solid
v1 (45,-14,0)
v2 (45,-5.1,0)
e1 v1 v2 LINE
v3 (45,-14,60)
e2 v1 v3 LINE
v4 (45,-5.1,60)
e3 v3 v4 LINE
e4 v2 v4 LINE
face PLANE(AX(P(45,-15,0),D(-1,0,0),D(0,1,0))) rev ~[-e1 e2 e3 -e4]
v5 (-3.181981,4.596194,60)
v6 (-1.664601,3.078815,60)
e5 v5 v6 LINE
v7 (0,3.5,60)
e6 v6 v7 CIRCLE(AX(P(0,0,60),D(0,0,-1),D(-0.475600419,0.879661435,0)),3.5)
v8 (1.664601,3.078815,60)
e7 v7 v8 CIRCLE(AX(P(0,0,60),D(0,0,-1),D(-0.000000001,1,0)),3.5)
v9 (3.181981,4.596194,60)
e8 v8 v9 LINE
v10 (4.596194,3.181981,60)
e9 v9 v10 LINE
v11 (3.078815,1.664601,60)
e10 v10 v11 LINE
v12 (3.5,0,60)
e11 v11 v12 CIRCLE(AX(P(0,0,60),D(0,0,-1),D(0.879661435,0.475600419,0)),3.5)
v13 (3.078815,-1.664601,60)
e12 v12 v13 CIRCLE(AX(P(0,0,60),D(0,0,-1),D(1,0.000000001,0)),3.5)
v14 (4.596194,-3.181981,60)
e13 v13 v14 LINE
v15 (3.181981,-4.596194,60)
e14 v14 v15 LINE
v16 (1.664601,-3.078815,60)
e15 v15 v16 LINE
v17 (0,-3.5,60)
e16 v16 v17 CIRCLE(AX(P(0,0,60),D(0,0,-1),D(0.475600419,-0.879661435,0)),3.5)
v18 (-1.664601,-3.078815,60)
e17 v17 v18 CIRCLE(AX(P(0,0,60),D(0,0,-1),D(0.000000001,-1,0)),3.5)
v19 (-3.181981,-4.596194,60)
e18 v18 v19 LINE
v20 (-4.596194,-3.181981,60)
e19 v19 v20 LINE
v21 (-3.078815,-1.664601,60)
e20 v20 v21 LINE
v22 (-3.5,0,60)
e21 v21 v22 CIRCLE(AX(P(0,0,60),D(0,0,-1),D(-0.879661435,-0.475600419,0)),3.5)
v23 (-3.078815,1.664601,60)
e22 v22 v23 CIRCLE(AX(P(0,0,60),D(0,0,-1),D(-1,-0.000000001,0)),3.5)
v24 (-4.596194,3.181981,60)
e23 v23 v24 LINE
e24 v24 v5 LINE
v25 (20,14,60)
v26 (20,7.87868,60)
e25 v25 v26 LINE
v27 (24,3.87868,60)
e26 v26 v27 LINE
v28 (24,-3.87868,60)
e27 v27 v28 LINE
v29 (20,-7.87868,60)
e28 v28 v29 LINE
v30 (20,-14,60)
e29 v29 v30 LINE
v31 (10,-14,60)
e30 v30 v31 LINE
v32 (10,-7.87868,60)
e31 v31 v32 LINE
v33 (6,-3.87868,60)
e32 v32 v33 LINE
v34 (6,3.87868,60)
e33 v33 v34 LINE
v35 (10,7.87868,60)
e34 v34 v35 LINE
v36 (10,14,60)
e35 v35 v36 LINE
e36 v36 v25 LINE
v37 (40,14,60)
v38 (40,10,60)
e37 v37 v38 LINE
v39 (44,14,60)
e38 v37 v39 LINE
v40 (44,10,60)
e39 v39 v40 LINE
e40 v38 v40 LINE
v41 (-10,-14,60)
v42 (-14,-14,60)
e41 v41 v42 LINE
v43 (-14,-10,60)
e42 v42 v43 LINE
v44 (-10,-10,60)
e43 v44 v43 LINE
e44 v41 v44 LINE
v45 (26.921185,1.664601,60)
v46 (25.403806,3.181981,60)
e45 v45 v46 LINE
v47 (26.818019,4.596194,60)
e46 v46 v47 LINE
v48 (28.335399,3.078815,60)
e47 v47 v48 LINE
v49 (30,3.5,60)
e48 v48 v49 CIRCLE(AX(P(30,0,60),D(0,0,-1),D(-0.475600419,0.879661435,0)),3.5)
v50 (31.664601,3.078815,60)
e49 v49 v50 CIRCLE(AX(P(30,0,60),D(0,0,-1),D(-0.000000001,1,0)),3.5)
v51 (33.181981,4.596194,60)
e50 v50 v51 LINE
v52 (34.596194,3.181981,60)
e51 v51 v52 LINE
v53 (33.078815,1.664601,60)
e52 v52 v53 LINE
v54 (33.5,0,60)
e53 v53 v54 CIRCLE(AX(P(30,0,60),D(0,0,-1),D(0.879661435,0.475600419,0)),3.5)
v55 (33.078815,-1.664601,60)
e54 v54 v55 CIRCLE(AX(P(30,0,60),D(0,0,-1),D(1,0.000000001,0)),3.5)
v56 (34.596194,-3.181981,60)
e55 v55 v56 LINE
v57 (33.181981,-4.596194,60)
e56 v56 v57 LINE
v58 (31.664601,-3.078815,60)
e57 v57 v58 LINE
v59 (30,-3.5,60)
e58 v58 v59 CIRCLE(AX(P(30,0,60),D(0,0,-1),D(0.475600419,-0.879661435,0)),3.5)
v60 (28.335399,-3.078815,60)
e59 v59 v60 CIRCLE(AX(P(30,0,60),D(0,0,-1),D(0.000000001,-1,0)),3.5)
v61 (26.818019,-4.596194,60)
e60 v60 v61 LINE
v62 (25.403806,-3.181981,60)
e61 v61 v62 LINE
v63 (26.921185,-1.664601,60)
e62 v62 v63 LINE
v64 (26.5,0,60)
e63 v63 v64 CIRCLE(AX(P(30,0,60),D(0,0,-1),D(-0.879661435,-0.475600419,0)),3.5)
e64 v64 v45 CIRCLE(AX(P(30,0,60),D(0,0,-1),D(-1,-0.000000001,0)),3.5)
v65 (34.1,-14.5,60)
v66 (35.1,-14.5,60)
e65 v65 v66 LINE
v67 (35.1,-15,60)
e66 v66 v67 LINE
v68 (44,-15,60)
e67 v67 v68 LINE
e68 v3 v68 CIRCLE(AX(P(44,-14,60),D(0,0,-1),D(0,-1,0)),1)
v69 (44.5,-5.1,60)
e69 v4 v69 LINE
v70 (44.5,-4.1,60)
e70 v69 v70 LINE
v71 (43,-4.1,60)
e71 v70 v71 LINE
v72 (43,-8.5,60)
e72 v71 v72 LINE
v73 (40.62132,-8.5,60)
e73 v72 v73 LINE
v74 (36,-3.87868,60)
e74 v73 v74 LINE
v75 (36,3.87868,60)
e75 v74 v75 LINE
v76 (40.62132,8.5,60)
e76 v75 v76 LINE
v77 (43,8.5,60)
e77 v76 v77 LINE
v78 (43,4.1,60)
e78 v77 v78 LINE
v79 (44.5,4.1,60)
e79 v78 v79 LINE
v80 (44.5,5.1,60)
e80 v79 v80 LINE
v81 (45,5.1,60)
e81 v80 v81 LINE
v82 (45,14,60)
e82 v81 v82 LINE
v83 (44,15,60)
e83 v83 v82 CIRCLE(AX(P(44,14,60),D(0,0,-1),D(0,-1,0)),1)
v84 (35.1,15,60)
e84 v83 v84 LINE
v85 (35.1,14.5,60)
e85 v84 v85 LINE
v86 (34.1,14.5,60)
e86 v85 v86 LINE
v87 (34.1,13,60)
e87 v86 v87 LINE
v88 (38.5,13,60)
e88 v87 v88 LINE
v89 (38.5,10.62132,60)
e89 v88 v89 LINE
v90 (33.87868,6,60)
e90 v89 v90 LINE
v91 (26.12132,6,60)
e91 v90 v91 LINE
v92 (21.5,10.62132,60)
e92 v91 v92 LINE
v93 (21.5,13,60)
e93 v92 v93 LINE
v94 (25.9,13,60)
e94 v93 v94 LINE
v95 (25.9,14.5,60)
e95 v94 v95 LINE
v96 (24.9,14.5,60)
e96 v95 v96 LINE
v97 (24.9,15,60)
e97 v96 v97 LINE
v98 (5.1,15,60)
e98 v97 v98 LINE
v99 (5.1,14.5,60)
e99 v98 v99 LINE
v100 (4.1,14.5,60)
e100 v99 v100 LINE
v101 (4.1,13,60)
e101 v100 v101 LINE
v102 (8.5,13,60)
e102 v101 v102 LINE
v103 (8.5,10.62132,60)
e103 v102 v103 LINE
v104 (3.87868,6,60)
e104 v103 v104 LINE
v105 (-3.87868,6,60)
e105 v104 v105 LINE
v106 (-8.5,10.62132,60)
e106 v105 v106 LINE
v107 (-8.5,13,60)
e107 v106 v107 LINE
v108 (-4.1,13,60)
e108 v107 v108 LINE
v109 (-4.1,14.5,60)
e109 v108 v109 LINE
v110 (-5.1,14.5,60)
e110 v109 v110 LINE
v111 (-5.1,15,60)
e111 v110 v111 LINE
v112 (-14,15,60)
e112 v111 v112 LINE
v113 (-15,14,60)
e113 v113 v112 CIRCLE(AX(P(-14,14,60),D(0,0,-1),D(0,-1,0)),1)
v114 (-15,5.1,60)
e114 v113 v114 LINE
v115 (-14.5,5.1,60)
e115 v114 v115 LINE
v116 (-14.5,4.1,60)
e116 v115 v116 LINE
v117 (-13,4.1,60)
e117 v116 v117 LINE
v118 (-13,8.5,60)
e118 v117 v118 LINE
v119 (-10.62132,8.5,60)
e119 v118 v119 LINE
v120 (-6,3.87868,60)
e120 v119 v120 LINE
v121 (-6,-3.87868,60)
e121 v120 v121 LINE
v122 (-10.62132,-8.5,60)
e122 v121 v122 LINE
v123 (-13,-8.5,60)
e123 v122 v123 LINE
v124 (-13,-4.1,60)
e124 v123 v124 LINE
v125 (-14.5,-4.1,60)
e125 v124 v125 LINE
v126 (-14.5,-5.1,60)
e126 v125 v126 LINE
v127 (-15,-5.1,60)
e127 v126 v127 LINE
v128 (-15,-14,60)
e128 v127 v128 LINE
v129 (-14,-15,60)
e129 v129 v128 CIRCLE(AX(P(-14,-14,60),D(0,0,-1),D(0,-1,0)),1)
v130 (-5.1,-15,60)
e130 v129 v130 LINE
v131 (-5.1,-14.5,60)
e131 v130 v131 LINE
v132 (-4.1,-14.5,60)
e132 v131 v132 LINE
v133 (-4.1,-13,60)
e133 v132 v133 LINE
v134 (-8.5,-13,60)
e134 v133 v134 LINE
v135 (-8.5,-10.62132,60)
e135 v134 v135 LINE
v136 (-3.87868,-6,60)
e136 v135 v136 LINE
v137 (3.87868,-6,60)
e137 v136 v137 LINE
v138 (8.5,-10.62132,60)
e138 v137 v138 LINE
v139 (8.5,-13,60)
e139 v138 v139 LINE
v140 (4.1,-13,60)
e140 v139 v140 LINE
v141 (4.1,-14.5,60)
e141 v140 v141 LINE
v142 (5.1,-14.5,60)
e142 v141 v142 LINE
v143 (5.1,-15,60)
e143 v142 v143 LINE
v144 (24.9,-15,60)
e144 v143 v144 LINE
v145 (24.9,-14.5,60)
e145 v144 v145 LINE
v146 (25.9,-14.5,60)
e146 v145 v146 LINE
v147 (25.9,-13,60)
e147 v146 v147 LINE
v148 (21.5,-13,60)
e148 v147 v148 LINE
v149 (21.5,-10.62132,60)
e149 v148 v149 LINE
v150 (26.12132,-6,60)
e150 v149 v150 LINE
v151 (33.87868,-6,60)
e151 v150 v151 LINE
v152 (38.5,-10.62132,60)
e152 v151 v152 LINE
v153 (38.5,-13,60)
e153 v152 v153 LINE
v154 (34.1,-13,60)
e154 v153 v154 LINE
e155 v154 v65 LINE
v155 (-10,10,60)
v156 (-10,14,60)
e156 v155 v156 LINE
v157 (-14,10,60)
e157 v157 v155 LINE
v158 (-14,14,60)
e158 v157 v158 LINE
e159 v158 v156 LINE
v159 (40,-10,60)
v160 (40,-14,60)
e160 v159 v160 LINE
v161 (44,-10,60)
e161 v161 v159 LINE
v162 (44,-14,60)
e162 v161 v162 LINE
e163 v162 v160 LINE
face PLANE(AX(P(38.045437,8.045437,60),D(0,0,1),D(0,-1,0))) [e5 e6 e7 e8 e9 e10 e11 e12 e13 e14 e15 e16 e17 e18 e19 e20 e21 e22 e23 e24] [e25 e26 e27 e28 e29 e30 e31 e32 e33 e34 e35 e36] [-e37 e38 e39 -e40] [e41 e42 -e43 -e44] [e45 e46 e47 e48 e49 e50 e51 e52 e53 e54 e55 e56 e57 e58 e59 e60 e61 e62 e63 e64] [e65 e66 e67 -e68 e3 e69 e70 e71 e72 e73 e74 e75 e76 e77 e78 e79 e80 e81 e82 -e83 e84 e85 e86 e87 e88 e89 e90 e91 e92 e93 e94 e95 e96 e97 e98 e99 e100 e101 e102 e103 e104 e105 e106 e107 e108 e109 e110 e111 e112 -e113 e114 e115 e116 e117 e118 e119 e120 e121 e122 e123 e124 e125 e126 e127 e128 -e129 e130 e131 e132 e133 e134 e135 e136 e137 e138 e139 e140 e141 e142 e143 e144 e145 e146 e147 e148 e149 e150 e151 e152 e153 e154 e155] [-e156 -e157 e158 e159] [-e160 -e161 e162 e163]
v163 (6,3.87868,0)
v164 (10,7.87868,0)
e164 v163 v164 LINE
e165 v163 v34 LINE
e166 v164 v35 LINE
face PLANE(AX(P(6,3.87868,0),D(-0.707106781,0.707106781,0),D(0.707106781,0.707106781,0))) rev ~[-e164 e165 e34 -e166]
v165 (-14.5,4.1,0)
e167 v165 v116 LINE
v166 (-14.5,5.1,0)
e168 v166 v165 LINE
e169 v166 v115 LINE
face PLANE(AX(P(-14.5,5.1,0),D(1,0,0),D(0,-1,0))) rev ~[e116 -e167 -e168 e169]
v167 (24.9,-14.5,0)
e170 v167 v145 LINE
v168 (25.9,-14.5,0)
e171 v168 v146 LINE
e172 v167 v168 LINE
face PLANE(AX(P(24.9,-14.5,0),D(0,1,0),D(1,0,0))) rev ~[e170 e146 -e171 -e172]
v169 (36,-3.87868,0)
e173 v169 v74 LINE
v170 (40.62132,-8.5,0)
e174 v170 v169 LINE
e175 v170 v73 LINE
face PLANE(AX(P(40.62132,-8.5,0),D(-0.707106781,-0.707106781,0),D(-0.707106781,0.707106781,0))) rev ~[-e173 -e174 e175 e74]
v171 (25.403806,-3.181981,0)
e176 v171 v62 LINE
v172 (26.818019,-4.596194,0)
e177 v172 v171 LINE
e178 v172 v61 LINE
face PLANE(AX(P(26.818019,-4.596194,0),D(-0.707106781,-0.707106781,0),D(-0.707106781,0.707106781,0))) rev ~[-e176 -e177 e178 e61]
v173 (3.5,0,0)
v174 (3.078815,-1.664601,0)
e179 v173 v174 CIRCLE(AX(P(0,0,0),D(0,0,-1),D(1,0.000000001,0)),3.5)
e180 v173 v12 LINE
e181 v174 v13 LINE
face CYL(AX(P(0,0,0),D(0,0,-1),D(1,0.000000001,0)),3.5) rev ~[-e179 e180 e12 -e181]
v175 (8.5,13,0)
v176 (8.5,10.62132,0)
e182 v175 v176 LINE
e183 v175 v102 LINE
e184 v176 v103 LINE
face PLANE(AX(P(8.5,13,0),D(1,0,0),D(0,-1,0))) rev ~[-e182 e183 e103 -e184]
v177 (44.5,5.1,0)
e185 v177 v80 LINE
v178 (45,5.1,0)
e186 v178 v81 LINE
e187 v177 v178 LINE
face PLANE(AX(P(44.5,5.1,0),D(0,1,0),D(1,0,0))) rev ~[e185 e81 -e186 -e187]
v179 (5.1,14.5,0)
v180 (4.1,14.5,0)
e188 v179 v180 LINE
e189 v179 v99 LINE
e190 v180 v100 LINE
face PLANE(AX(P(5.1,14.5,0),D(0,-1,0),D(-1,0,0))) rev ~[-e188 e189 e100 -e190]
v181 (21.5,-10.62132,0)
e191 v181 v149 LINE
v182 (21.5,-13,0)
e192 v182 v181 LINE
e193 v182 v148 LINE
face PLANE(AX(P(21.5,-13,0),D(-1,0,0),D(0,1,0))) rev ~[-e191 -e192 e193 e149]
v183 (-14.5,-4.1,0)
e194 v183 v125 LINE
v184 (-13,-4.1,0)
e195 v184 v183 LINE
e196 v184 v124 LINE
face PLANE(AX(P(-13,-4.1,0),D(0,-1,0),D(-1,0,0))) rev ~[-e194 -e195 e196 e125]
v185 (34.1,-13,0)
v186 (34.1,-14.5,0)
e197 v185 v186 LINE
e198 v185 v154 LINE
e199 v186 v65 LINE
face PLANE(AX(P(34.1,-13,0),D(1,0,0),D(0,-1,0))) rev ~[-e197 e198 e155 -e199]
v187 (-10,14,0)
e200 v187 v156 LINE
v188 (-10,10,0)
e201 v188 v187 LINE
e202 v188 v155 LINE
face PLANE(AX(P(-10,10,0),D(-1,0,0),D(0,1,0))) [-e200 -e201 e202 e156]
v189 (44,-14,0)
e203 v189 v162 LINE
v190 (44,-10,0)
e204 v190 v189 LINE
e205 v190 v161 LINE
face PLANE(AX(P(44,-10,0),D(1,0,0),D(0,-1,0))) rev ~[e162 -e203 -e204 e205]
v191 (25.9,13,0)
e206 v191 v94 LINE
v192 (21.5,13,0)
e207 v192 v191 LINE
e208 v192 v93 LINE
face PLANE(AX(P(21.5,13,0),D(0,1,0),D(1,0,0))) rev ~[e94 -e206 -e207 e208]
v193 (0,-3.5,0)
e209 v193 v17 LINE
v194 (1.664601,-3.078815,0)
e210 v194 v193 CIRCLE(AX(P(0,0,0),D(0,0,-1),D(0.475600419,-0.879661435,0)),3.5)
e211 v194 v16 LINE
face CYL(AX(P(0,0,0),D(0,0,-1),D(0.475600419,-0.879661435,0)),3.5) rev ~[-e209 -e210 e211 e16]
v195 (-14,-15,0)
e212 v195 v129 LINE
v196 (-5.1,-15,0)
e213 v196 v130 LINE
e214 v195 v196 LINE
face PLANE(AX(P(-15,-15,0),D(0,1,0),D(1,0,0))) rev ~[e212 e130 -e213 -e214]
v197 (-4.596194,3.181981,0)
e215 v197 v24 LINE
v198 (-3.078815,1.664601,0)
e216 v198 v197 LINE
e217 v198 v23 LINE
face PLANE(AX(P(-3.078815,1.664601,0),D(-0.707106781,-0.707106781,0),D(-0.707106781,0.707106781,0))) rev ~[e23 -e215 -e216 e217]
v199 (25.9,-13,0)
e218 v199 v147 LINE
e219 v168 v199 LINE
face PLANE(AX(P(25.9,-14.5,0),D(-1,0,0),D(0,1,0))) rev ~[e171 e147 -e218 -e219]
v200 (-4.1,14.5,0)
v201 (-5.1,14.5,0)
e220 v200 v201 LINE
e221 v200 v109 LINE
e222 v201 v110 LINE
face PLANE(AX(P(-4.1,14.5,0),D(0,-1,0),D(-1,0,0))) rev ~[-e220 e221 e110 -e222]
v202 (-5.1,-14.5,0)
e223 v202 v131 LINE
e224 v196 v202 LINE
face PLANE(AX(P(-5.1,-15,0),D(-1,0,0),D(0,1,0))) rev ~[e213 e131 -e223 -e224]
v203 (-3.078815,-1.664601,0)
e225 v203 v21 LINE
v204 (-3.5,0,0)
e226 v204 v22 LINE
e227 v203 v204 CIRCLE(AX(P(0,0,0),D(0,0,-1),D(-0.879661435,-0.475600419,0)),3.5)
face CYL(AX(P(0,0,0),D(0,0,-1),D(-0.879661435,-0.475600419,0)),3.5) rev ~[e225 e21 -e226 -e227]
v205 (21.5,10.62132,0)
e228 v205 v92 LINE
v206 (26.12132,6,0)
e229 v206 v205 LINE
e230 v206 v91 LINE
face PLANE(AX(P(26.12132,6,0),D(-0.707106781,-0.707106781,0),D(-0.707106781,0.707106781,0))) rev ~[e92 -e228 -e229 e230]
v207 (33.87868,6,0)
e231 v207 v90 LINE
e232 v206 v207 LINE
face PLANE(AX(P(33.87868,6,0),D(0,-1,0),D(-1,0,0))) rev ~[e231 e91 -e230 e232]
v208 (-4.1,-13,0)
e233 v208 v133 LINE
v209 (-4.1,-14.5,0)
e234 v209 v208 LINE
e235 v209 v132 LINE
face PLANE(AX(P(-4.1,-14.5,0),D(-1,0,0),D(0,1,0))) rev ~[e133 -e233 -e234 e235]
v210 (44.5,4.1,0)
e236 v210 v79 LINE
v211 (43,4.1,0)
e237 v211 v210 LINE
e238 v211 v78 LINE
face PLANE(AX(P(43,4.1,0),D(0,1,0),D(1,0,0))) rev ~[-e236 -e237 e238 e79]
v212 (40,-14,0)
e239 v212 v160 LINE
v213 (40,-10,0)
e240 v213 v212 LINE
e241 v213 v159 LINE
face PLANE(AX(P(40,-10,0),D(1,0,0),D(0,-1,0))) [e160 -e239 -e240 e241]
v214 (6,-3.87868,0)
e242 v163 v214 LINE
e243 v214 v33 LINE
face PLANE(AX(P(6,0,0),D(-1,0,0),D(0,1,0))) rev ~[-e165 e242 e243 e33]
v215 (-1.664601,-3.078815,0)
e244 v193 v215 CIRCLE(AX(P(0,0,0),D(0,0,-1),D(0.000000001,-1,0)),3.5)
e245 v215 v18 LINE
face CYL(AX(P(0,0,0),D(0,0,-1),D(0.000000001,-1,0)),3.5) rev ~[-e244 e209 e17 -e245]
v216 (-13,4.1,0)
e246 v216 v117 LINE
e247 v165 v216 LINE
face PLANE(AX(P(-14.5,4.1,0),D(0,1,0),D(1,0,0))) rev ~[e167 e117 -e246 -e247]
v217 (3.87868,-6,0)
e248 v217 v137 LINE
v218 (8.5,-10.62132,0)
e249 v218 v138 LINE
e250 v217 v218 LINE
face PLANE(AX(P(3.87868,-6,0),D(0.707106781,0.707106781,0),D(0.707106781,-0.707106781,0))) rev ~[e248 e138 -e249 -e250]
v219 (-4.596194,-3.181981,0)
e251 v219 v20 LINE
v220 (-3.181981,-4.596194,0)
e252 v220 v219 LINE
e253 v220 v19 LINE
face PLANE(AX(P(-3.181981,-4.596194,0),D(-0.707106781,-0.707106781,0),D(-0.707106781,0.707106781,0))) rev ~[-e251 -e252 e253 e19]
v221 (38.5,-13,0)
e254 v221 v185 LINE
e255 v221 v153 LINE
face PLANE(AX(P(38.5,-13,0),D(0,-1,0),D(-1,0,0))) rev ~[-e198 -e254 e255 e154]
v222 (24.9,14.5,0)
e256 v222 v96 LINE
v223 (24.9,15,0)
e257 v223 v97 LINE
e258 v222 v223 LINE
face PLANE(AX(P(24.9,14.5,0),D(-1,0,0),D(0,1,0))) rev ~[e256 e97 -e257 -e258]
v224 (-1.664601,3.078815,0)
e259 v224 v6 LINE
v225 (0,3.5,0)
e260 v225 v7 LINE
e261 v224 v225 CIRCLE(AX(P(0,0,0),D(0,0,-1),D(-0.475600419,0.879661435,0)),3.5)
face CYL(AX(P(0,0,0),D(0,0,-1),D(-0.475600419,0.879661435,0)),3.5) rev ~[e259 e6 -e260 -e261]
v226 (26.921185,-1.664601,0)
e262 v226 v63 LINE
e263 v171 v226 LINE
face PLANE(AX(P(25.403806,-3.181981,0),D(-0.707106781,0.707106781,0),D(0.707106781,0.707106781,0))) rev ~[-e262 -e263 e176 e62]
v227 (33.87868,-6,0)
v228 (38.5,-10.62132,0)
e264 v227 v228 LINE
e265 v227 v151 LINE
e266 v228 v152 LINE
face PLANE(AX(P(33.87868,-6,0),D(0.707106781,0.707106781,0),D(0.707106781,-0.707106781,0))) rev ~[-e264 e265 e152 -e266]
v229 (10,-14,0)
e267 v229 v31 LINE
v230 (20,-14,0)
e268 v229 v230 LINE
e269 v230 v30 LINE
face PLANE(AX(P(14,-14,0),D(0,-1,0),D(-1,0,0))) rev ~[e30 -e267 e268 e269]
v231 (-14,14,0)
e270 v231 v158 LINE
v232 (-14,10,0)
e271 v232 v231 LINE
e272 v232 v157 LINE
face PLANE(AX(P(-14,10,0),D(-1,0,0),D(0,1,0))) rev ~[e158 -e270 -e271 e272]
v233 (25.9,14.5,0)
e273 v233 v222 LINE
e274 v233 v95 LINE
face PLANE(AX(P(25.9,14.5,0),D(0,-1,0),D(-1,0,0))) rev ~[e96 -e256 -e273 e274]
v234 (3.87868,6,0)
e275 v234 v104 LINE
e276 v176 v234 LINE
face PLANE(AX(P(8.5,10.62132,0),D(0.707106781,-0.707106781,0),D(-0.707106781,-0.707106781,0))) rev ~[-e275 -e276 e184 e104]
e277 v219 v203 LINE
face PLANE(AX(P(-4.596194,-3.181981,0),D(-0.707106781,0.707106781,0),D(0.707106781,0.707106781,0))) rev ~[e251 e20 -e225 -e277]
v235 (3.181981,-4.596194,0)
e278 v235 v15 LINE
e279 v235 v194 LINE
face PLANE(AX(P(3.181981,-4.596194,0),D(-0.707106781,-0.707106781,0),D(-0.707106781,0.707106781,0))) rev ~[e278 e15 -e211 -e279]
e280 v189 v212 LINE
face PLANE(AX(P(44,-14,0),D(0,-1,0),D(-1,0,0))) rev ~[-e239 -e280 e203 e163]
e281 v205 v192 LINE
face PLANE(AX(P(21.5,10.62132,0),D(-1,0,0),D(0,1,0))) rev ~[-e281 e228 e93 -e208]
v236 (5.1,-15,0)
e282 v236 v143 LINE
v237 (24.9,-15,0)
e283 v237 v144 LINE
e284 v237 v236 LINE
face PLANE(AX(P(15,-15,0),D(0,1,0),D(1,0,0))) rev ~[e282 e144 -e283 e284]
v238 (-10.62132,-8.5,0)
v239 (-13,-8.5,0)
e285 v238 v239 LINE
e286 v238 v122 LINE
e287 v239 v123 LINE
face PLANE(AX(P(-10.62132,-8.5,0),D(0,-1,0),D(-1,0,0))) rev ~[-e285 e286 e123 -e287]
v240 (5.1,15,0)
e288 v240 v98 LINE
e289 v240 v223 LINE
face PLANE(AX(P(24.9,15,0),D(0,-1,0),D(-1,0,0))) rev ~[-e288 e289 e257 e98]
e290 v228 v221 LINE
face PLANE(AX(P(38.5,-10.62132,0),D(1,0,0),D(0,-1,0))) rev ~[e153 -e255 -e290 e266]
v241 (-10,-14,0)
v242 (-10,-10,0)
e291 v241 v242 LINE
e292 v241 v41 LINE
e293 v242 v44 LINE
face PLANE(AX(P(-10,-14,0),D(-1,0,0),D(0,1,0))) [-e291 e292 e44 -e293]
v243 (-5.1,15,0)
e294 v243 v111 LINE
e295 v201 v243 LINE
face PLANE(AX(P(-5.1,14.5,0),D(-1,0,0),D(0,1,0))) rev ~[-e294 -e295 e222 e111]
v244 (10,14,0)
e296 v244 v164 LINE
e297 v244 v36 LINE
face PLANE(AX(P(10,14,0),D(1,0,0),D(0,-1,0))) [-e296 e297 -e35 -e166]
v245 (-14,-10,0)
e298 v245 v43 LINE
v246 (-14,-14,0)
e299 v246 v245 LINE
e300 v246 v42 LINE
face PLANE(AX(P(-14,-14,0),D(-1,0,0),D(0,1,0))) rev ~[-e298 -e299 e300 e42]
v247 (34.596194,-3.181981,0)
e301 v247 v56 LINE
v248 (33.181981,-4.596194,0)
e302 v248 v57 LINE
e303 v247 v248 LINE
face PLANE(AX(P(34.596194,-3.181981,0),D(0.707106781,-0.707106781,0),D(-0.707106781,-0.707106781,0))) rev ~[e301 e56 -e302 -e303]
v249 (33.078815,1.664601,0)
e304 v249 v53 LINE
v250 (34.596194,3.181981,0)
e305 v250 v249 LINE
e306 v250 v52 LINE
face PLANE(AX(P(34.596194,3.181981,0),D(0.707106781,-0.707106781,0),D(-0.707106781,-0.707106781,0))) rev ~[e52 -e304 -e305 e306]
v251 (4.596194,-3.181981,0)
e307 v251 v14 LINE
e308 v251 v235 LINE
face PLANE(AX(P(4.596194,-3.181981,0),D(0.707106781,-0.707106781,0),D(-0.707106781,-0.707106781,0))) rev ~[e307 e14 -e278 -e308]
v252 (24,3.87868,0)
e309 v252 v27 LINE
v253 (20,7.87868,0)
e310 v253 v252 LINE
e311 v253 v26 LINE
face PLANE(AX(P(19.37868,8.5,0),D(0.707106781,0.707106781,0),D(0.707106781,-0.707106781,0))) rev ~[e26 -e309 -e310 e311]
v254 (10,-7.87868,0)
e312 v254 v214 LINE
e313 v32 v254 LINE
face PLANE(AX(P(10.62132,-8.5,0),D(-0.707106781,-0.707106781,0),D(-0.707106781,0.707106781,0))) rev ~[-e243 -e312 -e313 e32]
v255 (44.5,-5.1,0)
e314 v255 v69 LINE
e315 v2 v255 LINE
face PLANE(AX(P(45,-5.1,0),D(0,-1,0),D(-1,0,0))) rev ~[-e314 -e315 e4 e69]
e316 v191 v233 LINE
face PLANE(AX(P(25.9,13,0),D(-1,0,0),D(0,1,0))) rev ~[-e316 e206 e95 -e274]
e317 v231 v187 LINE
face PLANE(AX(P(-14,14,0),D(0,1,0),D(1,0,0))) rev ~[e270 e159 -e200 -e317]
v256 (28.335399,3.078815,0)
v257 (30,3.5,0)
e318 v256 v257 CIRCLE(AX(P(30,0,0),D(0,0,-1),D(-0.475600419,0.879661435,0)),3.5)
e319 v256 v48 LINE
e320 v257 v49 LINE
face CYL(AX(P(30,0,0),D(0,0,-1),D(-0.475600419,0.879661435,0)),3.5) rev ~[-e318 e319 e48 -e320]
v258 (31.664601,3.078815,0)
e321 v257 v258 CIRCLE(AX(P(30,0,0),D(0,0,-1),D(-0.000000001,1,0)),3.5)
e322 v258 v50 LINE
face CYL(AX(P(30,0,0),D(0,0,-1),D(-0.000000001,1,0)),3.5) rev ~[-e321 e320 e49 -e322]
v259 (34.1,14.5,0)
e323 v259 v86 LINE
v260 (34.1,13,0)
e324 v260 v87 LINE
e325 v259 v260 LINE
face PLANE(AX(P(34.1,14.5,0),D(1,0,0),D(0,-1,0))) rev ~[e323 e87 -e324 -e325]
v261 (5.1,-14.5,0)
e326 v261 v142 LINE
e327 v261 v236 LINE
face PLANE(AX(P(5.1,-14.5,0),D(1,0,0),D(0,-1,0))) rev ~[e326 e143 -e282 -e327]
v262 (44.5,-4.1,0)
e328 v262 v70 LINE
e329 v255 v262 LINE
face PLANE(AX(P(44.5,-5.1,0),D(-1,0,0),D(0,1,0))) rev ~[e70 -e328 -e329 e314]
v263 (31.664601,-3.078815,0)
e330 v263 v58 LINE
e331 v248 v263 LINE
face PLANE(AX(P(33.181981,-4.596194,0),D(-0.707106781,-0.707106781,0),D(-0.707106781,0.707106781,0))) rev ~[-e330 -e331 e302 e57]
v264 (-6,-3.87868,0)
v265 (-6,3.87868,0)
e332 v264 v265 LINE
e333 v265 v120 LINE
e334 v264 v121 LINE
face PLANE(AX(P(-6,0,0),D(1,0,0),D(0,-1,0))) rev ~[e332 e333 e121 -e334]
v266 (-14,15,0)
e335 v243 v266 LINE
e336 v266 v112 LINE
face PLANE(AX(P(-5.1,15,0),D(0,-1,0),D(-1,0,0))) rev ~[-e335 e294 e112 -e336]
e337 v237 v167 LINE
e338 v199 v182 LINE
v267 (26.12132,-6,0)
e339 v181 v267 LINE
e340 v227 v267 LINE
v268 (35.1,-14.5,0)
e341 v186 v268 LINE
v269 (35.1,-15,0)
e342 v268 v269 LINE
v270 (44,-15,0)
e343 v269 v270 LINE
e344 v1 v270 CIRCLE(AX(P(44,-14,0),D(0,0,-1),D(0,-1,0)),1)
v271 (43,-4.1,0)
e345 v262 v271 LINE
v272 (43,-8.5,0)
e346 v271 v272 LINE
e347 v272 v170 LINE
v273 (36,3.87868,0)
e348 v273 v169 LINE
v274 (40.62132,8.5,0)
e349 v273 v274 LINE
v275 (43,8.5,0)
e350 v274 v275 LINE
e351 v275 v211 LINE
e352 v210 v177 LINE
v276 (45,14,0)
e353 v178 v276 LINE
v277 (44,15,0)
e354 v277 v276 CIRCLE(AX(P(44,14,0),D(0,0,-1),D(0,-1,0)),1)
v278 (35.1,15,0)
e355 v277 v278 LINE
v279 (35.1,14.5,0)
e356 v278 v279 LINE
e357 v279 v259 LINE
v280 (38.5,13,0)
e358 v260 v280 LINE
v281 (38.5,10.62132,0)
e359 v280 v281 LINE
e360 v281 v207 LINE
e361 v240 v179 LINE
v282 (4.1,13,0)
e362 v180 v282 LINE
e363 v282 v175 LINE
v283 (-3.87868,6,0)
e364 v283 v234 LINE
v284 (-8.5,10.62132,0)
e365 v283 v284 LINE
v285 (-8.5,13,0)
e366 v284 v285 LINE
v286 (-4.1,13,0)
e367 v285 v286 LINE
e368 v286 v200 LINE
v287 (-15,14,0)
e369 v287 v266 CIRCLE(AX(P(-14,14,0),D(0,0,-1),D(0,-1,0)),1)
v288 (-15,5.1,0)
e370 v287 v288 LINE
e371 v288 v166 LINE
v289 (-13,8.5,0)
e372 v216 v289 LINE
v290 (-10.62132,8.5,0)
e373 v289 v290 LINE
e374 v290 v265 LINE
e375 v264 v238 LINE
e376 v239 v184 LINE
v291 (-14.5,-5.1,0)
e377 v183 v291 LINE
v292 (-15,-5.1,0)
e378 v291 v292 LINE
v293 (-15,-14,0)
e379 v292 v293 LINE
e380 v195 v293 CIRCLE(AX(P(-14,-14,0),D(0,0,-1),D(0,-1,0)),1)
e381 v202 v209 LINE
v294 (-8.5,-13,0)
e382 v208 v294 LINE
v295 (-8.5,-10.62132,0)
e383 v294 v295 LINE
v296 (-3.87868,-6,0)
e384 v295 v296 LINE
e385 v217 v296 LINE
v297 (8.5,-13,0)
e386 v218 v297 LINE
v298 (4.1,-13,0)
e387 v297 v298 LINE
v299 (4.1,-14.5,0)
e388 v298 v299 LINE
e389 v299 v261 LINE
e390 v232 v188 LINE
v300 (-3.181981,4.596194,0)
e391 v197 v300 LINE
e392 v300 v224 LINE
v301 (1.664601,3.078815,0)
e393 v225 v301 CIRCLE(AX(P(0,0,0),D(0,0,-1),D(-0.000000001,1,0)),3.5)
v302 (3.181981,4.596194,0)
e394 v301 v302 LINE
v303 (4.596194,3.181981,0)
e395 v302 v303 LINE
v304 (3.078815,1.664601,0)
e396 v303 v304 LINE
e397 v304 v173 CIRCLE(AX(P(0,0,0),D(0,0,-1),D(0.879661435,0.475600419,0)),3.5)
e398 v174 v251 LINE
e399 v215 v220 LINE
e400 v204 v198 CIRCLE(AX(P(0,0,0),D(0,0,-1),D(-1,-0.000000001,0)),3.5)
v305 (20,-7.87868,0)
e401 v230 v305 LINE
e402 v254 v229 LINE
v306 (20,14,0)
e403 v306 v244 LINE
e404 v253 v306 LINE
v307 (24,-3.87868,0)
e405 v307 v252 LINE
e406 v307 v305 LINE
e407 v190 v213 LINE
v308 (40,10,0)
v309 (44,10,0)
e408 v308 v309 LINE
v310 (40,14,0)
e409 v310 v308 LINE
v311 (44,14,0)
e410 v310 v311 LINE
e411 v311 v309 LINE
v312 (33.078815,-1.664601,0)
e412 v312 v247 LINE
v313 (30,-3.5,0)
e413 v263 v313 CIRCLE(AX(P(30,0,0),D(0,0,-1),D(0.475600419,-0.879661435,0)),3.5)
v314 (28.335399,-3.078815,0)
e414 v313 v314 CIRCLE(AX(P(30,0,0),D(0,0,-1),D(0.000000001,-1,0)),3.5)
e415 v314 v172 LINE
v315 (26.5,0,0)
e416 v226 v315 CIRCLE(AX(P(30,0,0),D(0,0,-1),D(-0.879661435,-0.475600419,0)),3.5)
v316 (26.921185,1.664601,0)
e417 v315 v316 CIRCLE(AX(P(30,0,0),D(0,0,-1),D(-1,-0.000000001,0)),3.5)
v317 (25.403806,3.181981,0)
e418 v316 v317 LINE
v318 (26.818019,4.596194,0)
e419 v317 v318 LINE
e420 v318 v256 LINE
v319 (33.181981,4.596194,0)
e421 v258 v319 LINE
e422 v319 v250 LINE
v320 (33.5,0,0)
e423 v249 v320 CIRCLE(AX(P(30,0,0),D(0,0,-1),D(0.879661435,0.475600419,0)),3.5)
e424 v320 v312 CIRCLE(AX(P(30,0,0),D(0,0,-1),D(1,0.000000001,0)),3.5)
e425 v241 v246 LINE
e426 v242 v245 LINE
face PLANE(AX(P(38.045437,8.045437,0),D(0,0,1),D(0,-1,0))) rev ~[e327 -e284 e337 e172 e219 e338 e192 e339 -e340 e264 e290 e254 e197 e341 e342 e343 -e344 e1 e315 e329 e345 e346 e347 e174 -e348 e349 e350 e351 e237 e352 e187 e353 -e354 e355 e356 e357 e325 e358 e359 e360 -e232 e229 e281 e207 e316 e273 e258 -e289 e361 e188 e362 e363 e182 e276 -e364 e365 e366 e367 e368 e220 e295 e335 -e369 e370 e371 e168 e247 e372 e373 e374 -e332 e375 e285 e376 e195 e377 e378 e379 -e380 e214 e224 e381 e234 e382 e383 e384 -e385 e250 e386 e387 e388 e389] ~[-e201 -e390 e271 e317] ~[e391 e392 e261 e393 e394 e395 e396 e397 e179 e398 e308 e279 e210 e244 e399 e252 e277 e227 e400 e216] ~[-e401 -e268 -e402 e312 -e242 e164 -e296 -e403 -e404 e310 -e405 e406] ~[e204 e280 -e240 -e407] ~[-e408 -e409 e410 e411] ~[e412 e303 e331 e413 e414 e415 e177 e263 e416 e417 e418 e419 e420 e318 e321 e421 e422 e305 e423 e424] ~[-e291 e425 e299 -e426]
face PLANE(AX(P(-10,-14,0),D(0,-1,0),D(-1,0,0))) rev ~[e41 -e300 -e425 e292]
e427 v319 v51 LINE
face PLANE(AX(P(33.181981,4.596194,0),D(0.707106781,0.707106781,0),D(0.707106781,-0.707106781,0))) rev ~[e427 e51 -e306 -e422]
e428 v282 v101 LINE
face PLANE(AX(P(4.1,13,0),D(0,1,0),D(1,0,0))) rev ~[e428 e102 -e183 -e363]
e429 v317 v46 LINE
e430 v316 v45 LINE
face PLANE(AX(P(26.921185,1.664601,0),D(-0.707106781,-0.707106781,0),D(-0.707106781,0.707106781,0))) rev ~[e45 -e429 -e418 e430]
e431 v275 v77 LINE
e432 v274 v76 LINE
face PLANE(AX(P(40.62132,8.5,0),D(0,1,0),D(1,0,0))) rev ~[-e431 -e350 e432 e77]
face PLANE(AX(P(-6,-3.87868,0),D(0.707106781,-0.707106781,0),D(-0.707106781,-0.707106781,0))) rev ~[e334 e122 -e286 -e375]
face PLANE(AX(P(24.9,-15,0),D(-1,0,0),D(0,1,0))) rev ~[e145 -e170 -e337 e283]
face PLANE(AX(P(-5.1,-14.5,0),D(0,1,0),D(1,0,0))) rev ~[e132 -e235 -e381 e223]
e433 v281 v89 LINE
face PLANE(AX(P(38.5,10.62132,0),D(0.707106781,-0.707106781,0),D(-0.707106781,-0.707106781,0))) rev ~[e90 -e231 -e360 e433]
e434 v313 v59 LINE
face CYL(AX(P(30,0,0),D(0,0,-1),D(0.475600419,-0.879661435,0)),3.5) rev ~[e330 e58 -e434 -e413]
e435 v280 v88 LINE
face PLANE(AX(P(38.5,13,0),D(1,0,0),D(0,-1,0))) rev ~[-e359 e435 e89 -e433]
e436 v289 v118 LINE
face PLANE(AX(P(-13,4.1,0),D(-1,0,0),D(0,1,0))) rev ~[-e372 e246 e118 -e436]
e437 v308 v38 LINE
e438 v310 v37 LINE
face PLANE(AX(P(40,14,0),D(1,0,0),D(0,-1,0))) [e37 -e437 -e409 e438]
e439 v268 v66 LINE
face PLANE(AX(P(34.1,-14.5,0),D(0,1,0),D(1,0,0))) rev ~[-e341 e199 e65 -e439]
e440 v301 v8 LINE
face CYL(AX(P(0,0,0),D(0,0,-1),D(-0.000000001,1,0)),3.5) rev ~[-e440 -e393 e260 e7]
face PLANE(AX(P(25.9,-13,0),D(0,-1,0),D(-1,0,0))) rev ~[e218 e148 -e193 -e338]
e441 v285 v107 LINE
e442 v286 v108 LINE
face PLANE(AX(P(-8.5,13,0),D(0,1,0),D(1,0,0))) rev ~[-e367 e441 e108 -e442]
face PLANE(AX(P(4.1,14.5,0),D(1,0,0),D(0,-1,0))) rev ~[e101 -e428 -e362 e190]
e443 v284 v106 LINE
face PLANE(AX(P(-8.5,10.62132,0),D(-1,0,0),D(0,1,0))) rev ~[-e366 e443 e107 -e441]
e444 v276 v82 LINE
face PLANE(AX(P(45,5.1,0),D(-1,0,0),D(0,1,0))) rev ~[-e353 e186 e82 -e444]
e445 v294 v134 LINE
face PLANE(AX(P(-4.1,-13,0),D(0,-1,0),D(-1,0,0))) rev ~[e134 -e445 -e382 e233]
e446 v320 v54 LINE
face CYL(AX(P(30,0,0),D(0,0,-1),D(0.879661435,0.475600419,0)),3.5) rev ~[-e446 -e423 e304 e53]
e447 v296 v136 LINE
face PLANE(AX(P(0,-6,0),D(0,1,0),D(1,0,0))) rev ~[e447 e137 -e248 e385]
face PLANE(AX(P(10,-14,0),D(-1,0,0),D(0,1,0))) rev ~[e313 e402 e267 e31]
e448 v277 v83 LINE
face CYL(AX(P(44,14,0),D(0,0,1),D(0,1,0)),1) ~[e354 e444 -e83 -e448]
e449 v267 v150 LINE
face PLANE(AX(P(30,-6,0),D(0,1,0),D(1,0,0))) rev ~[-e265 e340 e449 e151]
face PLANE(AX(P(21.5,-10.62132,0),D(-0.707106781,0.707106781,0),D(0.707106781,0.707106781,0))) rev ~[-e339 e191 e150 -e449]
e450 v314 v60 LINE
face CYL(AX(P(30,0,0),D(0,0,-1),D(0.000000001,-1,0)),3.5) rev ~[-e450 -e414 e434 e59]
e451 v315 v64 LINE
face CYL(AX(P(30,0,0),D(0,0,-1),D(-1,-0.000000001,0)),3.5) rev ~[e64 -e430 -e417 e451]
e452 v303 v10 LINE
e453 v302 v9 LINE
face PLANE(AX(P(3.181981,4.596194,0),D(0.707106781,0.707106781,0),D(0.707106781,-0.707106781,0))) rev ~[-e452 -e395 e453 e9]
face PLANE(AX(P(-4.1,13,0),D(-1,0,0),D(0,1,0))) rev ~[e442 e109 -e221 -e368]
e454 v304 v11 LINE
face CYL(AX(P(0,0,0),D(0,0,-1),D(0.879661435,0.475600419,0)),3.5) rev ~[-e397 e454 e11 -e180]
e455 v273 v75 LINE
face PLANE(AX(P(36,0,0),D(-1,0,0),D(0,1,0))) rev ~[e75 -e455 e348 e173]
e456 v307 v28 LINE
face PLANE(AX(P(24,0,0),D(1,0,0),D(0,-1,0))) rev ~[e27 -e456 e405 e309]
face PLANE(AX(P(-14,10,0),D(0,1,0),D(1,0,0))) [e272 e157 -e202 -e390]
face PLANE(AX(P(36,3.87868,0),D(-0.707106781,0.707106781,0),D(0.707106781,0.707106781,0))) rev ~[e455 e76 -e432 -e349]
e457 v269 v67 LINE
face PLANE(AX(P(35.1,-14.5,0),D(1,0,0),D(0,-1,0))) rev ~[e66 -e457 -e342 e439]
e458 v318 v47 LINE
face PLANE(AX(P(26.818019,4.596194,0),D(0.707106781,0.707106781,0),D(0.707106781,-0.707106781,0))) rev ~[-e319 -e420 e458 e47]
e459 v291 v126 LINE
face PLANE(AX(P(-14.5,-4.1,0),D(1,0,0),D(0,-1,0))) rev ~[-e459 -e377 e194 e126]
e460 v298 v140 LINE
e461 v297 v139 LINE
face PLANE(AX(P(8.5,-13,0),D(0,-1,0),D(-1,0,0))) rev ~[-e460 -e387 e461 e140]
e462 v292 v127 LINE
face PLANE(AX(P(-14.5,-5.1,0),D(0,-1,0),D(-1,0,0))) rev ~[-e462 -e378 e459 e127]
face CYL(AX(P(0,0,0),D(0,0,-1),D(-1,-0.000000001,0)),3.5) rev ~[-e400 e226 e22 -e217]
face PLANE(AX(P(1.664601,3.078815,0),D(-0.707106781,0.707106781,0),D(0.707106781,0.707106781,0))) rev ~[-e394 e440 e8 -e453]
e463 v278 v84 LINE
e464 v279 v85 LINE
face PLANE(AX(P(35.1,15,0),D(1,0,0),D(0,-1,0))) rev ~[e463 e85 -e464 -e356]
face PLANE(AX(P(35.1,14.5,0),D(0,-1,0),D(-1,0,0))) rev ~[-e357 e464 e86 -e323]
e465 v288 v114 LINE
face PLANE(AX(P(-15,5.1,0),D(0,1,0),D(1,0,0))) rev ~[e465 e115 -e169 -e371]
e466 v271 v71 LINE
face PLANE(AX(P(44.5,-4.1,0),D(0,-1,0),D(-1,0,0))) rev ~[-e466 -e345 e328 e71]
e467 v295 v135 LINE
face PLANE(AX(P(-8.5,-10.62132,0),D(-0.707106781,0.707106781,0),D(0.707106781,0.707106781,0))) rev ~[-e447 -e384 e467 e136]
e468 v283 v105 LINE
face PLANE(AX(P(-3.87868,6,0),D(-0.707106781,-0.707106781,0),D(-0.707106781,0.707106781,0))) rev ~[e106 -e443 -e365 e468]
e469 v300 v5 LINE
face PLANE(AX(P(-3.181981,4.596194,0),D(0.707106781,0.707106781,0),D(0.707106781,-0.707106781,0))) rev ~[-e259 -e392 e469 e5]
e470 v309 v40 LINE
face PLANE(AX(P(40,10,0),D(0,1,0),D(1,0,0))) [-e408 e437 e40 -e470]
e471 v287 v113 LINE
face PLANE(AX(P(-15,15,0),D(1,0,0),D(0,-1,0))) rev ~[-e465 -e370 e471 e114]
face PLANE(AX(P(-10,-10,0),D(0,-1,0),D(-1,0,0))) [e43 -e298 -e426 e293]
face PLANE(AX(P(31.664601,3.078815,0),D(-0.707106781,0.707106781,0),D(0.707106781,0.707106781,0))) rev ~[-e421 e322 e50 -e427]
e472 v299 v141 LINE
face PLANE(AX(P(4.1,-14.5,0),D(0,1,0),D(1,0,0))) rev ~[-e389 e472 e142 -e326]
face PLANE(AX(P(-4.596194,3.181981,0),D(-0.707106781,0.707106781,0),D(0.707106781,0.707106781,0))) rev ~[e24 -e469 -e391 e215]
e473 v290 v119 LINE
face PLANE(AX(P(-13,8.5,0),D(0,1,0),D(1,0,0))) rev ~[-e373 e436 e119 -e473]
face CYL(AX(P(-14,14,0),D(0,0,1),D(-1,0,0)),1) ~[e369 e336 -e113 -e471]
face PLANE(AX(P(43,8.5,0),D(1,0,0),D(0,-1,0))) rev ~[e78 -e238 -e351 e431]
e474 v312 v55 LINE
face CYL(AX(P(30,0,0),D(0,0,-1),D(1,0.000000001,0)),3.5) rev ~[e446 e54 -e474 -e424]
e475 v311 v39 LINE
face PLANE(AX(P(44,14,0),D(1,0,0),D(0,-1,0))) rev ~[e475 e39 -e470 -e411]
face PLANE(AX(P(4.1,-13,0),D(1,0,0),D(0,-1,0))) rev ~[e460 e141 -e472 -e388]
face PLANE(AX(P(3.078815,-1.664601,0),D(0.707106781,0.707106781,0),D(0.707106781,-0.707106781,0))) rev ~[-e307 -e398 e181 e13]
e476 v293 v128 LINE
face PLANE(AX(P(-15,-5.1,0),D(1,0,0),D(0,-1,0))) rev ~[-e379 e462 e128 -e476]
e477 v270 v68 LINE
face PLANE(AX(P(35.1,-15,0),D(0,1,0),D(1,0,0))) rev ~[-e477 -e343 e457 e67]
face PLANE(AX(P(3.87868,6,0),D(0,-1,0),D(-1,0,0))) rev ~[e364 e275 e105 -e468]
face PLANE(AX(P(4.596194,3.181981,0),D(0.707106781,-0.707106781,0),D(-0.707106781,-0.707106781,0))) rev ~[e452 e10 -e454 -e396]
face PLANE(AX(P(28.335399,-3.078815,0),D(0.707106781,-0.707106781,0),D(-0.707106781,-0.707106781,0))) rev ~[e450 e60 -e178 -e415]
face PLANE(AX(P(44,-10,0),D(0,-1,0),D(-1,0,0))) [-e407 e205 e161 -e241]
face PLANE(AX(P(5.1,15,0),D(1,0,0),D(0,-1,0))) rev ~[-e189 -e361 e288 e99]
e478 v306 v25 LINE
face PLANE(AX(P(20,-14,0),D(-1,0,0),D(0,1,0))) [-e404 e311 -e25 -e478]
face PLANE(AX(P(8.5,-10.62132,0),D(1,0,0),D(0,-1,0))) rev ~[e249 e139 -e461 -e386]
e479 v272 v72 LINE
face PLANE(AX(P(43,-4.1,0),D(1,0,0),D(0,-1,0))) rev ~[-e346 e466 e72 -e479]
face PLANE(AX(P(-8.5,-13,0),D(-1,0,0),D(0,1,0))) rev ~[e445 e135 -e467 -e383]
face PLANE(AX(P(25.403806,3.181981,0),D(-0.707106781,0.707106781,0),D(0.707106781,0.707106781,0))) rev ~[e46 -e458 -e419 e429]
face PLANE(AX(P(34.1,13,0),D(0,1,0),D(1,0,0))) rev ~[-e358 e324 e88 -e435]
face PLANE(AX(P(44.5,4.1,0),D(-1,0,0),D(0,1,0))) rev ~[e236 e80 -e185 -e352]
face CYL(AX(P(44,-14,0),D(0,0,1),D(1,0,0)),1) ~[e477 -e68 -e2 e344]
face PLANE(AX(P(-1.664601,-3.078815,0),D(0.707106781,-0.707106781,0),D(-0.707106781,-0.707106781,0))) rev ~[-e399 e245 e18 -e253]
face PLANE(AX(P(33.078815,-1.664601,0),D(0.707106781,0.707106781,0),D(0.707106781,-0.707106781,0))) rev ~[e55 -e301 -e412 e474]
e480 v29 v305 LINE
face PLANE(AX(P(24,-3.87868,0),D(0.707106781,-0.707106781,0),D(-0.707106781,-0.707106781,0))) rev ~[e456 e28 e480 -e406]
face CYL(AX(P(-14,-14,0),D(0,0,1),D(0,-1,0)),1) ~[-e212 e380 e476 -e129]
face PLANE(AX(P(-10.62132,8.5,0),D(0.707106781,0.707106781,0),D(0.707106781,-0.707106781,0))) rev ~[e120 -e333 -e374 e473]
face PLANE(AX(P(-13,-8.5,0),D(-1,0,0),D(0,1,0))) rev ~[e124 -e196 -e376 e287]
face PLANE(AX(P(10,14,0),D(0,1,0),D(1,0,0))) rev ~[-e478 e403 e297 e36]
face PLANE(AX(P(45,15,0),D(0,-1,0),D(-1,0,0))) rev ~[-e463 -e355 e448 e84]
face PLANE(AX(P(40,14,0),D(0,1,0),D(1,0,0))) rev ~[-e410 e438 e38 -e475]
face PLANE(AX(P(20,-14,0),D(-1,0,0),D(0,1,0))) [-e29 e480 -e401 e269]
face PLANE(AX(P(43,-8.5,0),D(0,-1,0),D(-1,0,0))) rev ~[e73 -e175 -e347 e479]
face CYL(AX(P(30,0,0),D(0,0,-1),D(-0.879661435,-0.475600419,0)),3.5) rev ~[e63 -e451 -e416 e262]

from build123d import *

# Parameters (mm, degrees)
ESBO_O1_W                      = 4
ESBO_O1_H                      = 4
RESSALTO_EXTRUS_O1_DEPTH       = 60
PADR_OCIRCULAR1_COUNT          = 4
PADR_O_LINEAR1_COUNT           = 2
PADR_O_LINEAR1_PITCH           = 30
PADR_O_LINEAR1_COPY_1_SKETCH_W = 4
PADR_O_LINEAR1_COPY_1_SKETCH_H = 4
PADR_O_LINEAR1_COPY_1_DEPTH    = 60
PADR_O_LINEAR1_COPY_2_SKETCH_W = 4
PADR_O_LINEAR1_COPY_2_SKETCH_H = 4
PADR_O_LINEAR1_COPY_2_DEPTH    = 60
PADR_O_LINEAR1_COPY_3_SKETCH_W = 4
PADR_O_LINEAR1_COPY_3_SKETCH_H = 4
PADR_O_LINEAR1_COPY_3_DEPTH    = 60
ESBO_O4_W                      = 10
ESBO_O4_H                      = 28
CORTE_EXTRUS_O1_DEPTH          = 77.485292704
FILETE1_R                      = 1


with BuildPart() as part:
    # Esboço1 → Ressalto-extrusão1 (new body)
    with BuildSketch(Plane.XY):
        with BuildLine():
            ThreePointArc((-1.664601464, 3.078815026), (-0.858529967, 3.393070335), (0, 3.5))
            Line((0, 3.5), (0, 6))
            Line((0, 6), (-3.878679656, 6))
            Line((-3.878679656, 6), (-8.5, 10.621320344))
            Line((-8.5, 10.621320344), (-8.5, 13))
            Line((-8.5, 13), (-4.1, 13))
            Line((-4.1, 13), (-4.1, 14.5))
            Line((-4.1, 14.5), (-5.1, 14.5))
            Line((-5.1, 14.5), (-5.1, 15))
            Line((-5.1, 15), (-15, 15))
            Line((-15, 15), (-15, 5.1))
            Line((-15, 5.1), (-14.5, 5.1))
            Line((-14.5, 5.1), (-14.5, 4.1))
            Line((-14.5, 4.1), (-13, 4.1))
            Line((-13, 4.1), (-13, 8.5))
            Line((-13, 8.5), (-10.621320344, 8.5))
            Line((-10.621320344, 8.5), (-6, 3.878679656))
            Line((-6, 3.878679656), (-6, 0))
            Line((-6, 0), (-3.5, 0))
            ThreePointArc((-3.5, 0), (-3.393070335, 0.858529967), (-3.078815026, 1.664601464))
            Line((-3.078815026, 1.664601464), (-4.596194078, 3.181980515))
            Line((-4.596194078, 3.181980515), (-3.181980515, 4.596194078))
            Line((-3.181980515, 4.596194078), (-1.664601464, 3.078815026))
        make_face()
        with Locations((-12, 12)):
            Rectangle(ESBO_O1_W, ESBO_O1_H, mode=Mode.SUBTRACT)
    ressalto_extrus_o1 = extrude(amount=RESSALTO_EXTRUS_O1_DEPTH)

    # PadrãoCircular1: Ressalto-extrusão1 ×4 about axis
    padr_ocircular1_axis = Axis((0, 0, 0), (0, 0, 1))
    for i in range(1, PADR_OCIRCULAR1_COUNT):
        add(ressalto_extrus_o1.rotate(padr_ocircular1_axis, i * 360 / PADR_OCIRCULAR1_COUNT))

    # Padrão linear1: Ressalto-extrusão1 ×2
    with Locations(*[(i * PADR_O_LINEAR1_PITCH, 0, 0) for i in range(1, PADR_O_LINEAR1_COUNT)]):
        add(ressalto_extrus_o1)

    # Padrão linear1 copy 1 sketch → Padrão linear1 copy 1 (add)
    with BuildSketch(Plane(origin=(30, 0, 0), x_dir=(0, 1, 0), z_dir=(0, 0, 1))):
        with BuildLine():
            ThreePointArc((-1.664601464, 3.078815026), (-0.858529967, 3.393070335), (0, 3.5))
            Line((0, 3.5), (0, 6))
            Line((0, 6), (-3.878679656, 6))
            Line((-3.878679656, 6), (-8.5, 10.621320344))
            Line((-8.5, 10.621320344), (-8.5, 13))
            Line((-8.5, 13), (-4.1, 13))
            Line((-4.1, 13), (-4.1, 14.5))
            Line((-4.1, 14.5), (-5.1, 14.5))
            Line((-5.1, 14.5), (-5.1, 15))
            Line((-5.1, 15), (-15, 15))
            Line((-15, 15), (-15, 5.1))
            Line((-15, 5.1), (-14.5, 5.1))
            Line((-14.5, 5.1), (-14.5, 4.1))
            Line((-14.5, 4.1), (-13, 4.1))
            Line((-13, 4.1), (-13, 8.5))
            Line((-13, 8.5), (-10.621320344, 8.5))
            Line((-10.621320344, 8.5), (-6, 3.878679656))
            Line((-6, 3.878679656), (-6, 0))
            Line((-6, 0), (-3.5, 0))
            ThreePointArc((-3.5, 0), (-3.393070335, 0.858529967), (-3.078815026, 1.664601464))
            Line((-3.078815026, 1.664601464), (-4.596194078, 3.181980515))
            Line((-4.596194078, 3.181980515), (-3.181980515, 4.596194078))
            Line((-3.181980515, 4.596194078), (-1.664601464, 3.078815026))
        make_face()
        with Locations((-12, 12)):
            Rectangle(PADR_O_LINEAR1_COPY_1_SKETCH_W, PADR_O_LINEAR1_COPY_1_SKETCH_H, mode=Mode.SUBTRACT)
    extrude(amount=PADR_O_LINEAR1_COPY_1_DEPTH)

    # Padrão linear1 copy 2 sketch → Padrão linear1 copy 2 (add)
    with BuildSketch(Plane(origin=(30, 0, 0), x_dir=(-1, 0, 0), z_dir=(0, 0, 1))):
        with BuildLine():
            ThreePointArc((-1.664601464, 3.078815026), (-0.858529967, 3.393070335), (0, 3.5))
            Line((0, 3.5), (0, 6))
            Line((0, 6), (-3.878679656, 6))
            Line((-3.878679656, 6), (-8.5, 10.621320344))
            Line((-8.5, 10.621320344), (-8.5, 13))
            Line((-8.5, 13), (-4.1, 13))
            Line((-4.1, 13), (-4.1, 14.5))
            Line((-4.1, 14.5), (-5.1, 14.5))
            Line((-5.1, 14.5), (-5.1, 15))
            Line((-5.1, 15), (-15, 15))
            Line((-15, 15), (-15, 5.1))
            Line((-15, 5.1), (-14.5, 5.1))
            Line((-14.5, 5.1), (-14.5, 4.1))
            Line((-14.5, 4.1), (-13, 4.1))
            Line((-13, 4.1), (-13, 8.5))
            Line((-13, 8.5), (-10.621320344, 8.5))
            Line((-10.621320344, 8.5), (-6, 3.878679656))
            Line((-6, 3.878679656), (-6, 0))
            Line((-6, 0), (-3.5, 0))
            ThreePointArc((-3.5, 0), (-3.393070335, 0.858529967), (-3.078815026, 1.664601464))
            Line((-3.078815026, 1.664601464), (-4.596194078, 3.181980515))
            Line((-4.596194078, 3.181980515), (-3.181980515, 4.596194078))
            Line((-3.181980515, 4.596194078), (-1.664601464, 3.078815026))
        make_face()
        with Locations((-12, 12)):
            Rectangle(PADR_O_LINEAR1_COPY_2_SKETCH_W, PADR_O_LINEAR1_COPY_2_SKETCH_H, mode=Mode.SUBTRACT)
    extrude(amount=PADR_O_LINEAR1_COPY_2_DEPTH)

    # Padrão linear1 copy 3 sketch → Padrão linear1 copy 3 (add)
    with BuildSketch(Plane(origin=(30, 0, 0), x_dir=(0, -1, 0), z_dir=(0, 0, 1))):
        with BuildLine():
            ThreePointArc((-1.664601464, 3.078815026), (-0.858529967, 3.393070335), (0, 3.5))
            Line((0, 3.5), (0, 6))
            Line((0, 6), (-3.878679656, 6))
            Line((-3.878679656, 6), (-8.5, 10.621320344))
            Line((-8.5, 10.621320344), (-8.5, 13))
            Line((-8.5, 13), (-4.1, 13))
            Line((-4.1, 13), (-4.1, 14.5))
            Line((-4.1, 14.5), (-5.1, 14.5))
            Line((-5.1, 14.5), (-5.1, 15))
            Line((-5.1, 15), (-15, 15))
            Line((-15, 15), (-15, 5.1))
            Line((-15, 5.1), (-14.5, 5.1))
            Line((-14.5, 5.1), (-14.5, 4.1))
            Line((-14.5, 4.1), (-13, 4.1))
            Line((-13, 4.1), (-13, 8.5))
            Line((-13, 8.5), (-10.621320344, 8.5))
            Line((-10.621320344, 8.5), (-6, 3.878679656))
            Line((-6, 3.878679656), (-6, 0))
            Line((-6, 0), (-3.5, 0))
            ThreePointArc((-3.5, 0), (-3.393070335, 0.858529967), (-3.078815026, 1.664601464))
            Line((-3.078815026, 1.664601464), (-4.596194078, 3.181980515))
            Line((-4.596194078, 3.181980515), (-3.181980515, 4.596194078))
            Line((-3.181980515, 4.596194078), (-1.664601464, 3.078815026))
        make_face()
        with Locations((-12, 12)):
            Rectangle(PADR_O_LINEAR1_COPY_3_SKETCH_W, PADR_O_LINEAR1_COPY_3_SKETCH_H, mode=Mode.SUBTRACT)
    extrude(amount=PADR_O_LINEAR1_COPY_3_DEPTH)

    # Esboço4 → Corte-extrusão1 (cut, through all)
    with BuildSketch(Plane(origin=(0, 0, 0), x_dir=(-1, 0, 0), z_dir=(0, 0, -1))):
        with Locations((-15, 0)):
            Rectangle(ESBO_O4_W, ESBO_O4_H)
    extrude(amount=-CORTE_EXTRUS_O1_DEPTH, mode=Mode.SUBTRACT)

    # Filete1
    filete1_edges = [part.edges().sort_by_distance(p)[0] for p in [
        (45, -15, 30),
        (45, 15, 30),
        (-15, 15, 30),
        (-15, -15, 30),
    ]]
    fillet(filete1_edges, radius=FILETE1_R)


solid = part.part
